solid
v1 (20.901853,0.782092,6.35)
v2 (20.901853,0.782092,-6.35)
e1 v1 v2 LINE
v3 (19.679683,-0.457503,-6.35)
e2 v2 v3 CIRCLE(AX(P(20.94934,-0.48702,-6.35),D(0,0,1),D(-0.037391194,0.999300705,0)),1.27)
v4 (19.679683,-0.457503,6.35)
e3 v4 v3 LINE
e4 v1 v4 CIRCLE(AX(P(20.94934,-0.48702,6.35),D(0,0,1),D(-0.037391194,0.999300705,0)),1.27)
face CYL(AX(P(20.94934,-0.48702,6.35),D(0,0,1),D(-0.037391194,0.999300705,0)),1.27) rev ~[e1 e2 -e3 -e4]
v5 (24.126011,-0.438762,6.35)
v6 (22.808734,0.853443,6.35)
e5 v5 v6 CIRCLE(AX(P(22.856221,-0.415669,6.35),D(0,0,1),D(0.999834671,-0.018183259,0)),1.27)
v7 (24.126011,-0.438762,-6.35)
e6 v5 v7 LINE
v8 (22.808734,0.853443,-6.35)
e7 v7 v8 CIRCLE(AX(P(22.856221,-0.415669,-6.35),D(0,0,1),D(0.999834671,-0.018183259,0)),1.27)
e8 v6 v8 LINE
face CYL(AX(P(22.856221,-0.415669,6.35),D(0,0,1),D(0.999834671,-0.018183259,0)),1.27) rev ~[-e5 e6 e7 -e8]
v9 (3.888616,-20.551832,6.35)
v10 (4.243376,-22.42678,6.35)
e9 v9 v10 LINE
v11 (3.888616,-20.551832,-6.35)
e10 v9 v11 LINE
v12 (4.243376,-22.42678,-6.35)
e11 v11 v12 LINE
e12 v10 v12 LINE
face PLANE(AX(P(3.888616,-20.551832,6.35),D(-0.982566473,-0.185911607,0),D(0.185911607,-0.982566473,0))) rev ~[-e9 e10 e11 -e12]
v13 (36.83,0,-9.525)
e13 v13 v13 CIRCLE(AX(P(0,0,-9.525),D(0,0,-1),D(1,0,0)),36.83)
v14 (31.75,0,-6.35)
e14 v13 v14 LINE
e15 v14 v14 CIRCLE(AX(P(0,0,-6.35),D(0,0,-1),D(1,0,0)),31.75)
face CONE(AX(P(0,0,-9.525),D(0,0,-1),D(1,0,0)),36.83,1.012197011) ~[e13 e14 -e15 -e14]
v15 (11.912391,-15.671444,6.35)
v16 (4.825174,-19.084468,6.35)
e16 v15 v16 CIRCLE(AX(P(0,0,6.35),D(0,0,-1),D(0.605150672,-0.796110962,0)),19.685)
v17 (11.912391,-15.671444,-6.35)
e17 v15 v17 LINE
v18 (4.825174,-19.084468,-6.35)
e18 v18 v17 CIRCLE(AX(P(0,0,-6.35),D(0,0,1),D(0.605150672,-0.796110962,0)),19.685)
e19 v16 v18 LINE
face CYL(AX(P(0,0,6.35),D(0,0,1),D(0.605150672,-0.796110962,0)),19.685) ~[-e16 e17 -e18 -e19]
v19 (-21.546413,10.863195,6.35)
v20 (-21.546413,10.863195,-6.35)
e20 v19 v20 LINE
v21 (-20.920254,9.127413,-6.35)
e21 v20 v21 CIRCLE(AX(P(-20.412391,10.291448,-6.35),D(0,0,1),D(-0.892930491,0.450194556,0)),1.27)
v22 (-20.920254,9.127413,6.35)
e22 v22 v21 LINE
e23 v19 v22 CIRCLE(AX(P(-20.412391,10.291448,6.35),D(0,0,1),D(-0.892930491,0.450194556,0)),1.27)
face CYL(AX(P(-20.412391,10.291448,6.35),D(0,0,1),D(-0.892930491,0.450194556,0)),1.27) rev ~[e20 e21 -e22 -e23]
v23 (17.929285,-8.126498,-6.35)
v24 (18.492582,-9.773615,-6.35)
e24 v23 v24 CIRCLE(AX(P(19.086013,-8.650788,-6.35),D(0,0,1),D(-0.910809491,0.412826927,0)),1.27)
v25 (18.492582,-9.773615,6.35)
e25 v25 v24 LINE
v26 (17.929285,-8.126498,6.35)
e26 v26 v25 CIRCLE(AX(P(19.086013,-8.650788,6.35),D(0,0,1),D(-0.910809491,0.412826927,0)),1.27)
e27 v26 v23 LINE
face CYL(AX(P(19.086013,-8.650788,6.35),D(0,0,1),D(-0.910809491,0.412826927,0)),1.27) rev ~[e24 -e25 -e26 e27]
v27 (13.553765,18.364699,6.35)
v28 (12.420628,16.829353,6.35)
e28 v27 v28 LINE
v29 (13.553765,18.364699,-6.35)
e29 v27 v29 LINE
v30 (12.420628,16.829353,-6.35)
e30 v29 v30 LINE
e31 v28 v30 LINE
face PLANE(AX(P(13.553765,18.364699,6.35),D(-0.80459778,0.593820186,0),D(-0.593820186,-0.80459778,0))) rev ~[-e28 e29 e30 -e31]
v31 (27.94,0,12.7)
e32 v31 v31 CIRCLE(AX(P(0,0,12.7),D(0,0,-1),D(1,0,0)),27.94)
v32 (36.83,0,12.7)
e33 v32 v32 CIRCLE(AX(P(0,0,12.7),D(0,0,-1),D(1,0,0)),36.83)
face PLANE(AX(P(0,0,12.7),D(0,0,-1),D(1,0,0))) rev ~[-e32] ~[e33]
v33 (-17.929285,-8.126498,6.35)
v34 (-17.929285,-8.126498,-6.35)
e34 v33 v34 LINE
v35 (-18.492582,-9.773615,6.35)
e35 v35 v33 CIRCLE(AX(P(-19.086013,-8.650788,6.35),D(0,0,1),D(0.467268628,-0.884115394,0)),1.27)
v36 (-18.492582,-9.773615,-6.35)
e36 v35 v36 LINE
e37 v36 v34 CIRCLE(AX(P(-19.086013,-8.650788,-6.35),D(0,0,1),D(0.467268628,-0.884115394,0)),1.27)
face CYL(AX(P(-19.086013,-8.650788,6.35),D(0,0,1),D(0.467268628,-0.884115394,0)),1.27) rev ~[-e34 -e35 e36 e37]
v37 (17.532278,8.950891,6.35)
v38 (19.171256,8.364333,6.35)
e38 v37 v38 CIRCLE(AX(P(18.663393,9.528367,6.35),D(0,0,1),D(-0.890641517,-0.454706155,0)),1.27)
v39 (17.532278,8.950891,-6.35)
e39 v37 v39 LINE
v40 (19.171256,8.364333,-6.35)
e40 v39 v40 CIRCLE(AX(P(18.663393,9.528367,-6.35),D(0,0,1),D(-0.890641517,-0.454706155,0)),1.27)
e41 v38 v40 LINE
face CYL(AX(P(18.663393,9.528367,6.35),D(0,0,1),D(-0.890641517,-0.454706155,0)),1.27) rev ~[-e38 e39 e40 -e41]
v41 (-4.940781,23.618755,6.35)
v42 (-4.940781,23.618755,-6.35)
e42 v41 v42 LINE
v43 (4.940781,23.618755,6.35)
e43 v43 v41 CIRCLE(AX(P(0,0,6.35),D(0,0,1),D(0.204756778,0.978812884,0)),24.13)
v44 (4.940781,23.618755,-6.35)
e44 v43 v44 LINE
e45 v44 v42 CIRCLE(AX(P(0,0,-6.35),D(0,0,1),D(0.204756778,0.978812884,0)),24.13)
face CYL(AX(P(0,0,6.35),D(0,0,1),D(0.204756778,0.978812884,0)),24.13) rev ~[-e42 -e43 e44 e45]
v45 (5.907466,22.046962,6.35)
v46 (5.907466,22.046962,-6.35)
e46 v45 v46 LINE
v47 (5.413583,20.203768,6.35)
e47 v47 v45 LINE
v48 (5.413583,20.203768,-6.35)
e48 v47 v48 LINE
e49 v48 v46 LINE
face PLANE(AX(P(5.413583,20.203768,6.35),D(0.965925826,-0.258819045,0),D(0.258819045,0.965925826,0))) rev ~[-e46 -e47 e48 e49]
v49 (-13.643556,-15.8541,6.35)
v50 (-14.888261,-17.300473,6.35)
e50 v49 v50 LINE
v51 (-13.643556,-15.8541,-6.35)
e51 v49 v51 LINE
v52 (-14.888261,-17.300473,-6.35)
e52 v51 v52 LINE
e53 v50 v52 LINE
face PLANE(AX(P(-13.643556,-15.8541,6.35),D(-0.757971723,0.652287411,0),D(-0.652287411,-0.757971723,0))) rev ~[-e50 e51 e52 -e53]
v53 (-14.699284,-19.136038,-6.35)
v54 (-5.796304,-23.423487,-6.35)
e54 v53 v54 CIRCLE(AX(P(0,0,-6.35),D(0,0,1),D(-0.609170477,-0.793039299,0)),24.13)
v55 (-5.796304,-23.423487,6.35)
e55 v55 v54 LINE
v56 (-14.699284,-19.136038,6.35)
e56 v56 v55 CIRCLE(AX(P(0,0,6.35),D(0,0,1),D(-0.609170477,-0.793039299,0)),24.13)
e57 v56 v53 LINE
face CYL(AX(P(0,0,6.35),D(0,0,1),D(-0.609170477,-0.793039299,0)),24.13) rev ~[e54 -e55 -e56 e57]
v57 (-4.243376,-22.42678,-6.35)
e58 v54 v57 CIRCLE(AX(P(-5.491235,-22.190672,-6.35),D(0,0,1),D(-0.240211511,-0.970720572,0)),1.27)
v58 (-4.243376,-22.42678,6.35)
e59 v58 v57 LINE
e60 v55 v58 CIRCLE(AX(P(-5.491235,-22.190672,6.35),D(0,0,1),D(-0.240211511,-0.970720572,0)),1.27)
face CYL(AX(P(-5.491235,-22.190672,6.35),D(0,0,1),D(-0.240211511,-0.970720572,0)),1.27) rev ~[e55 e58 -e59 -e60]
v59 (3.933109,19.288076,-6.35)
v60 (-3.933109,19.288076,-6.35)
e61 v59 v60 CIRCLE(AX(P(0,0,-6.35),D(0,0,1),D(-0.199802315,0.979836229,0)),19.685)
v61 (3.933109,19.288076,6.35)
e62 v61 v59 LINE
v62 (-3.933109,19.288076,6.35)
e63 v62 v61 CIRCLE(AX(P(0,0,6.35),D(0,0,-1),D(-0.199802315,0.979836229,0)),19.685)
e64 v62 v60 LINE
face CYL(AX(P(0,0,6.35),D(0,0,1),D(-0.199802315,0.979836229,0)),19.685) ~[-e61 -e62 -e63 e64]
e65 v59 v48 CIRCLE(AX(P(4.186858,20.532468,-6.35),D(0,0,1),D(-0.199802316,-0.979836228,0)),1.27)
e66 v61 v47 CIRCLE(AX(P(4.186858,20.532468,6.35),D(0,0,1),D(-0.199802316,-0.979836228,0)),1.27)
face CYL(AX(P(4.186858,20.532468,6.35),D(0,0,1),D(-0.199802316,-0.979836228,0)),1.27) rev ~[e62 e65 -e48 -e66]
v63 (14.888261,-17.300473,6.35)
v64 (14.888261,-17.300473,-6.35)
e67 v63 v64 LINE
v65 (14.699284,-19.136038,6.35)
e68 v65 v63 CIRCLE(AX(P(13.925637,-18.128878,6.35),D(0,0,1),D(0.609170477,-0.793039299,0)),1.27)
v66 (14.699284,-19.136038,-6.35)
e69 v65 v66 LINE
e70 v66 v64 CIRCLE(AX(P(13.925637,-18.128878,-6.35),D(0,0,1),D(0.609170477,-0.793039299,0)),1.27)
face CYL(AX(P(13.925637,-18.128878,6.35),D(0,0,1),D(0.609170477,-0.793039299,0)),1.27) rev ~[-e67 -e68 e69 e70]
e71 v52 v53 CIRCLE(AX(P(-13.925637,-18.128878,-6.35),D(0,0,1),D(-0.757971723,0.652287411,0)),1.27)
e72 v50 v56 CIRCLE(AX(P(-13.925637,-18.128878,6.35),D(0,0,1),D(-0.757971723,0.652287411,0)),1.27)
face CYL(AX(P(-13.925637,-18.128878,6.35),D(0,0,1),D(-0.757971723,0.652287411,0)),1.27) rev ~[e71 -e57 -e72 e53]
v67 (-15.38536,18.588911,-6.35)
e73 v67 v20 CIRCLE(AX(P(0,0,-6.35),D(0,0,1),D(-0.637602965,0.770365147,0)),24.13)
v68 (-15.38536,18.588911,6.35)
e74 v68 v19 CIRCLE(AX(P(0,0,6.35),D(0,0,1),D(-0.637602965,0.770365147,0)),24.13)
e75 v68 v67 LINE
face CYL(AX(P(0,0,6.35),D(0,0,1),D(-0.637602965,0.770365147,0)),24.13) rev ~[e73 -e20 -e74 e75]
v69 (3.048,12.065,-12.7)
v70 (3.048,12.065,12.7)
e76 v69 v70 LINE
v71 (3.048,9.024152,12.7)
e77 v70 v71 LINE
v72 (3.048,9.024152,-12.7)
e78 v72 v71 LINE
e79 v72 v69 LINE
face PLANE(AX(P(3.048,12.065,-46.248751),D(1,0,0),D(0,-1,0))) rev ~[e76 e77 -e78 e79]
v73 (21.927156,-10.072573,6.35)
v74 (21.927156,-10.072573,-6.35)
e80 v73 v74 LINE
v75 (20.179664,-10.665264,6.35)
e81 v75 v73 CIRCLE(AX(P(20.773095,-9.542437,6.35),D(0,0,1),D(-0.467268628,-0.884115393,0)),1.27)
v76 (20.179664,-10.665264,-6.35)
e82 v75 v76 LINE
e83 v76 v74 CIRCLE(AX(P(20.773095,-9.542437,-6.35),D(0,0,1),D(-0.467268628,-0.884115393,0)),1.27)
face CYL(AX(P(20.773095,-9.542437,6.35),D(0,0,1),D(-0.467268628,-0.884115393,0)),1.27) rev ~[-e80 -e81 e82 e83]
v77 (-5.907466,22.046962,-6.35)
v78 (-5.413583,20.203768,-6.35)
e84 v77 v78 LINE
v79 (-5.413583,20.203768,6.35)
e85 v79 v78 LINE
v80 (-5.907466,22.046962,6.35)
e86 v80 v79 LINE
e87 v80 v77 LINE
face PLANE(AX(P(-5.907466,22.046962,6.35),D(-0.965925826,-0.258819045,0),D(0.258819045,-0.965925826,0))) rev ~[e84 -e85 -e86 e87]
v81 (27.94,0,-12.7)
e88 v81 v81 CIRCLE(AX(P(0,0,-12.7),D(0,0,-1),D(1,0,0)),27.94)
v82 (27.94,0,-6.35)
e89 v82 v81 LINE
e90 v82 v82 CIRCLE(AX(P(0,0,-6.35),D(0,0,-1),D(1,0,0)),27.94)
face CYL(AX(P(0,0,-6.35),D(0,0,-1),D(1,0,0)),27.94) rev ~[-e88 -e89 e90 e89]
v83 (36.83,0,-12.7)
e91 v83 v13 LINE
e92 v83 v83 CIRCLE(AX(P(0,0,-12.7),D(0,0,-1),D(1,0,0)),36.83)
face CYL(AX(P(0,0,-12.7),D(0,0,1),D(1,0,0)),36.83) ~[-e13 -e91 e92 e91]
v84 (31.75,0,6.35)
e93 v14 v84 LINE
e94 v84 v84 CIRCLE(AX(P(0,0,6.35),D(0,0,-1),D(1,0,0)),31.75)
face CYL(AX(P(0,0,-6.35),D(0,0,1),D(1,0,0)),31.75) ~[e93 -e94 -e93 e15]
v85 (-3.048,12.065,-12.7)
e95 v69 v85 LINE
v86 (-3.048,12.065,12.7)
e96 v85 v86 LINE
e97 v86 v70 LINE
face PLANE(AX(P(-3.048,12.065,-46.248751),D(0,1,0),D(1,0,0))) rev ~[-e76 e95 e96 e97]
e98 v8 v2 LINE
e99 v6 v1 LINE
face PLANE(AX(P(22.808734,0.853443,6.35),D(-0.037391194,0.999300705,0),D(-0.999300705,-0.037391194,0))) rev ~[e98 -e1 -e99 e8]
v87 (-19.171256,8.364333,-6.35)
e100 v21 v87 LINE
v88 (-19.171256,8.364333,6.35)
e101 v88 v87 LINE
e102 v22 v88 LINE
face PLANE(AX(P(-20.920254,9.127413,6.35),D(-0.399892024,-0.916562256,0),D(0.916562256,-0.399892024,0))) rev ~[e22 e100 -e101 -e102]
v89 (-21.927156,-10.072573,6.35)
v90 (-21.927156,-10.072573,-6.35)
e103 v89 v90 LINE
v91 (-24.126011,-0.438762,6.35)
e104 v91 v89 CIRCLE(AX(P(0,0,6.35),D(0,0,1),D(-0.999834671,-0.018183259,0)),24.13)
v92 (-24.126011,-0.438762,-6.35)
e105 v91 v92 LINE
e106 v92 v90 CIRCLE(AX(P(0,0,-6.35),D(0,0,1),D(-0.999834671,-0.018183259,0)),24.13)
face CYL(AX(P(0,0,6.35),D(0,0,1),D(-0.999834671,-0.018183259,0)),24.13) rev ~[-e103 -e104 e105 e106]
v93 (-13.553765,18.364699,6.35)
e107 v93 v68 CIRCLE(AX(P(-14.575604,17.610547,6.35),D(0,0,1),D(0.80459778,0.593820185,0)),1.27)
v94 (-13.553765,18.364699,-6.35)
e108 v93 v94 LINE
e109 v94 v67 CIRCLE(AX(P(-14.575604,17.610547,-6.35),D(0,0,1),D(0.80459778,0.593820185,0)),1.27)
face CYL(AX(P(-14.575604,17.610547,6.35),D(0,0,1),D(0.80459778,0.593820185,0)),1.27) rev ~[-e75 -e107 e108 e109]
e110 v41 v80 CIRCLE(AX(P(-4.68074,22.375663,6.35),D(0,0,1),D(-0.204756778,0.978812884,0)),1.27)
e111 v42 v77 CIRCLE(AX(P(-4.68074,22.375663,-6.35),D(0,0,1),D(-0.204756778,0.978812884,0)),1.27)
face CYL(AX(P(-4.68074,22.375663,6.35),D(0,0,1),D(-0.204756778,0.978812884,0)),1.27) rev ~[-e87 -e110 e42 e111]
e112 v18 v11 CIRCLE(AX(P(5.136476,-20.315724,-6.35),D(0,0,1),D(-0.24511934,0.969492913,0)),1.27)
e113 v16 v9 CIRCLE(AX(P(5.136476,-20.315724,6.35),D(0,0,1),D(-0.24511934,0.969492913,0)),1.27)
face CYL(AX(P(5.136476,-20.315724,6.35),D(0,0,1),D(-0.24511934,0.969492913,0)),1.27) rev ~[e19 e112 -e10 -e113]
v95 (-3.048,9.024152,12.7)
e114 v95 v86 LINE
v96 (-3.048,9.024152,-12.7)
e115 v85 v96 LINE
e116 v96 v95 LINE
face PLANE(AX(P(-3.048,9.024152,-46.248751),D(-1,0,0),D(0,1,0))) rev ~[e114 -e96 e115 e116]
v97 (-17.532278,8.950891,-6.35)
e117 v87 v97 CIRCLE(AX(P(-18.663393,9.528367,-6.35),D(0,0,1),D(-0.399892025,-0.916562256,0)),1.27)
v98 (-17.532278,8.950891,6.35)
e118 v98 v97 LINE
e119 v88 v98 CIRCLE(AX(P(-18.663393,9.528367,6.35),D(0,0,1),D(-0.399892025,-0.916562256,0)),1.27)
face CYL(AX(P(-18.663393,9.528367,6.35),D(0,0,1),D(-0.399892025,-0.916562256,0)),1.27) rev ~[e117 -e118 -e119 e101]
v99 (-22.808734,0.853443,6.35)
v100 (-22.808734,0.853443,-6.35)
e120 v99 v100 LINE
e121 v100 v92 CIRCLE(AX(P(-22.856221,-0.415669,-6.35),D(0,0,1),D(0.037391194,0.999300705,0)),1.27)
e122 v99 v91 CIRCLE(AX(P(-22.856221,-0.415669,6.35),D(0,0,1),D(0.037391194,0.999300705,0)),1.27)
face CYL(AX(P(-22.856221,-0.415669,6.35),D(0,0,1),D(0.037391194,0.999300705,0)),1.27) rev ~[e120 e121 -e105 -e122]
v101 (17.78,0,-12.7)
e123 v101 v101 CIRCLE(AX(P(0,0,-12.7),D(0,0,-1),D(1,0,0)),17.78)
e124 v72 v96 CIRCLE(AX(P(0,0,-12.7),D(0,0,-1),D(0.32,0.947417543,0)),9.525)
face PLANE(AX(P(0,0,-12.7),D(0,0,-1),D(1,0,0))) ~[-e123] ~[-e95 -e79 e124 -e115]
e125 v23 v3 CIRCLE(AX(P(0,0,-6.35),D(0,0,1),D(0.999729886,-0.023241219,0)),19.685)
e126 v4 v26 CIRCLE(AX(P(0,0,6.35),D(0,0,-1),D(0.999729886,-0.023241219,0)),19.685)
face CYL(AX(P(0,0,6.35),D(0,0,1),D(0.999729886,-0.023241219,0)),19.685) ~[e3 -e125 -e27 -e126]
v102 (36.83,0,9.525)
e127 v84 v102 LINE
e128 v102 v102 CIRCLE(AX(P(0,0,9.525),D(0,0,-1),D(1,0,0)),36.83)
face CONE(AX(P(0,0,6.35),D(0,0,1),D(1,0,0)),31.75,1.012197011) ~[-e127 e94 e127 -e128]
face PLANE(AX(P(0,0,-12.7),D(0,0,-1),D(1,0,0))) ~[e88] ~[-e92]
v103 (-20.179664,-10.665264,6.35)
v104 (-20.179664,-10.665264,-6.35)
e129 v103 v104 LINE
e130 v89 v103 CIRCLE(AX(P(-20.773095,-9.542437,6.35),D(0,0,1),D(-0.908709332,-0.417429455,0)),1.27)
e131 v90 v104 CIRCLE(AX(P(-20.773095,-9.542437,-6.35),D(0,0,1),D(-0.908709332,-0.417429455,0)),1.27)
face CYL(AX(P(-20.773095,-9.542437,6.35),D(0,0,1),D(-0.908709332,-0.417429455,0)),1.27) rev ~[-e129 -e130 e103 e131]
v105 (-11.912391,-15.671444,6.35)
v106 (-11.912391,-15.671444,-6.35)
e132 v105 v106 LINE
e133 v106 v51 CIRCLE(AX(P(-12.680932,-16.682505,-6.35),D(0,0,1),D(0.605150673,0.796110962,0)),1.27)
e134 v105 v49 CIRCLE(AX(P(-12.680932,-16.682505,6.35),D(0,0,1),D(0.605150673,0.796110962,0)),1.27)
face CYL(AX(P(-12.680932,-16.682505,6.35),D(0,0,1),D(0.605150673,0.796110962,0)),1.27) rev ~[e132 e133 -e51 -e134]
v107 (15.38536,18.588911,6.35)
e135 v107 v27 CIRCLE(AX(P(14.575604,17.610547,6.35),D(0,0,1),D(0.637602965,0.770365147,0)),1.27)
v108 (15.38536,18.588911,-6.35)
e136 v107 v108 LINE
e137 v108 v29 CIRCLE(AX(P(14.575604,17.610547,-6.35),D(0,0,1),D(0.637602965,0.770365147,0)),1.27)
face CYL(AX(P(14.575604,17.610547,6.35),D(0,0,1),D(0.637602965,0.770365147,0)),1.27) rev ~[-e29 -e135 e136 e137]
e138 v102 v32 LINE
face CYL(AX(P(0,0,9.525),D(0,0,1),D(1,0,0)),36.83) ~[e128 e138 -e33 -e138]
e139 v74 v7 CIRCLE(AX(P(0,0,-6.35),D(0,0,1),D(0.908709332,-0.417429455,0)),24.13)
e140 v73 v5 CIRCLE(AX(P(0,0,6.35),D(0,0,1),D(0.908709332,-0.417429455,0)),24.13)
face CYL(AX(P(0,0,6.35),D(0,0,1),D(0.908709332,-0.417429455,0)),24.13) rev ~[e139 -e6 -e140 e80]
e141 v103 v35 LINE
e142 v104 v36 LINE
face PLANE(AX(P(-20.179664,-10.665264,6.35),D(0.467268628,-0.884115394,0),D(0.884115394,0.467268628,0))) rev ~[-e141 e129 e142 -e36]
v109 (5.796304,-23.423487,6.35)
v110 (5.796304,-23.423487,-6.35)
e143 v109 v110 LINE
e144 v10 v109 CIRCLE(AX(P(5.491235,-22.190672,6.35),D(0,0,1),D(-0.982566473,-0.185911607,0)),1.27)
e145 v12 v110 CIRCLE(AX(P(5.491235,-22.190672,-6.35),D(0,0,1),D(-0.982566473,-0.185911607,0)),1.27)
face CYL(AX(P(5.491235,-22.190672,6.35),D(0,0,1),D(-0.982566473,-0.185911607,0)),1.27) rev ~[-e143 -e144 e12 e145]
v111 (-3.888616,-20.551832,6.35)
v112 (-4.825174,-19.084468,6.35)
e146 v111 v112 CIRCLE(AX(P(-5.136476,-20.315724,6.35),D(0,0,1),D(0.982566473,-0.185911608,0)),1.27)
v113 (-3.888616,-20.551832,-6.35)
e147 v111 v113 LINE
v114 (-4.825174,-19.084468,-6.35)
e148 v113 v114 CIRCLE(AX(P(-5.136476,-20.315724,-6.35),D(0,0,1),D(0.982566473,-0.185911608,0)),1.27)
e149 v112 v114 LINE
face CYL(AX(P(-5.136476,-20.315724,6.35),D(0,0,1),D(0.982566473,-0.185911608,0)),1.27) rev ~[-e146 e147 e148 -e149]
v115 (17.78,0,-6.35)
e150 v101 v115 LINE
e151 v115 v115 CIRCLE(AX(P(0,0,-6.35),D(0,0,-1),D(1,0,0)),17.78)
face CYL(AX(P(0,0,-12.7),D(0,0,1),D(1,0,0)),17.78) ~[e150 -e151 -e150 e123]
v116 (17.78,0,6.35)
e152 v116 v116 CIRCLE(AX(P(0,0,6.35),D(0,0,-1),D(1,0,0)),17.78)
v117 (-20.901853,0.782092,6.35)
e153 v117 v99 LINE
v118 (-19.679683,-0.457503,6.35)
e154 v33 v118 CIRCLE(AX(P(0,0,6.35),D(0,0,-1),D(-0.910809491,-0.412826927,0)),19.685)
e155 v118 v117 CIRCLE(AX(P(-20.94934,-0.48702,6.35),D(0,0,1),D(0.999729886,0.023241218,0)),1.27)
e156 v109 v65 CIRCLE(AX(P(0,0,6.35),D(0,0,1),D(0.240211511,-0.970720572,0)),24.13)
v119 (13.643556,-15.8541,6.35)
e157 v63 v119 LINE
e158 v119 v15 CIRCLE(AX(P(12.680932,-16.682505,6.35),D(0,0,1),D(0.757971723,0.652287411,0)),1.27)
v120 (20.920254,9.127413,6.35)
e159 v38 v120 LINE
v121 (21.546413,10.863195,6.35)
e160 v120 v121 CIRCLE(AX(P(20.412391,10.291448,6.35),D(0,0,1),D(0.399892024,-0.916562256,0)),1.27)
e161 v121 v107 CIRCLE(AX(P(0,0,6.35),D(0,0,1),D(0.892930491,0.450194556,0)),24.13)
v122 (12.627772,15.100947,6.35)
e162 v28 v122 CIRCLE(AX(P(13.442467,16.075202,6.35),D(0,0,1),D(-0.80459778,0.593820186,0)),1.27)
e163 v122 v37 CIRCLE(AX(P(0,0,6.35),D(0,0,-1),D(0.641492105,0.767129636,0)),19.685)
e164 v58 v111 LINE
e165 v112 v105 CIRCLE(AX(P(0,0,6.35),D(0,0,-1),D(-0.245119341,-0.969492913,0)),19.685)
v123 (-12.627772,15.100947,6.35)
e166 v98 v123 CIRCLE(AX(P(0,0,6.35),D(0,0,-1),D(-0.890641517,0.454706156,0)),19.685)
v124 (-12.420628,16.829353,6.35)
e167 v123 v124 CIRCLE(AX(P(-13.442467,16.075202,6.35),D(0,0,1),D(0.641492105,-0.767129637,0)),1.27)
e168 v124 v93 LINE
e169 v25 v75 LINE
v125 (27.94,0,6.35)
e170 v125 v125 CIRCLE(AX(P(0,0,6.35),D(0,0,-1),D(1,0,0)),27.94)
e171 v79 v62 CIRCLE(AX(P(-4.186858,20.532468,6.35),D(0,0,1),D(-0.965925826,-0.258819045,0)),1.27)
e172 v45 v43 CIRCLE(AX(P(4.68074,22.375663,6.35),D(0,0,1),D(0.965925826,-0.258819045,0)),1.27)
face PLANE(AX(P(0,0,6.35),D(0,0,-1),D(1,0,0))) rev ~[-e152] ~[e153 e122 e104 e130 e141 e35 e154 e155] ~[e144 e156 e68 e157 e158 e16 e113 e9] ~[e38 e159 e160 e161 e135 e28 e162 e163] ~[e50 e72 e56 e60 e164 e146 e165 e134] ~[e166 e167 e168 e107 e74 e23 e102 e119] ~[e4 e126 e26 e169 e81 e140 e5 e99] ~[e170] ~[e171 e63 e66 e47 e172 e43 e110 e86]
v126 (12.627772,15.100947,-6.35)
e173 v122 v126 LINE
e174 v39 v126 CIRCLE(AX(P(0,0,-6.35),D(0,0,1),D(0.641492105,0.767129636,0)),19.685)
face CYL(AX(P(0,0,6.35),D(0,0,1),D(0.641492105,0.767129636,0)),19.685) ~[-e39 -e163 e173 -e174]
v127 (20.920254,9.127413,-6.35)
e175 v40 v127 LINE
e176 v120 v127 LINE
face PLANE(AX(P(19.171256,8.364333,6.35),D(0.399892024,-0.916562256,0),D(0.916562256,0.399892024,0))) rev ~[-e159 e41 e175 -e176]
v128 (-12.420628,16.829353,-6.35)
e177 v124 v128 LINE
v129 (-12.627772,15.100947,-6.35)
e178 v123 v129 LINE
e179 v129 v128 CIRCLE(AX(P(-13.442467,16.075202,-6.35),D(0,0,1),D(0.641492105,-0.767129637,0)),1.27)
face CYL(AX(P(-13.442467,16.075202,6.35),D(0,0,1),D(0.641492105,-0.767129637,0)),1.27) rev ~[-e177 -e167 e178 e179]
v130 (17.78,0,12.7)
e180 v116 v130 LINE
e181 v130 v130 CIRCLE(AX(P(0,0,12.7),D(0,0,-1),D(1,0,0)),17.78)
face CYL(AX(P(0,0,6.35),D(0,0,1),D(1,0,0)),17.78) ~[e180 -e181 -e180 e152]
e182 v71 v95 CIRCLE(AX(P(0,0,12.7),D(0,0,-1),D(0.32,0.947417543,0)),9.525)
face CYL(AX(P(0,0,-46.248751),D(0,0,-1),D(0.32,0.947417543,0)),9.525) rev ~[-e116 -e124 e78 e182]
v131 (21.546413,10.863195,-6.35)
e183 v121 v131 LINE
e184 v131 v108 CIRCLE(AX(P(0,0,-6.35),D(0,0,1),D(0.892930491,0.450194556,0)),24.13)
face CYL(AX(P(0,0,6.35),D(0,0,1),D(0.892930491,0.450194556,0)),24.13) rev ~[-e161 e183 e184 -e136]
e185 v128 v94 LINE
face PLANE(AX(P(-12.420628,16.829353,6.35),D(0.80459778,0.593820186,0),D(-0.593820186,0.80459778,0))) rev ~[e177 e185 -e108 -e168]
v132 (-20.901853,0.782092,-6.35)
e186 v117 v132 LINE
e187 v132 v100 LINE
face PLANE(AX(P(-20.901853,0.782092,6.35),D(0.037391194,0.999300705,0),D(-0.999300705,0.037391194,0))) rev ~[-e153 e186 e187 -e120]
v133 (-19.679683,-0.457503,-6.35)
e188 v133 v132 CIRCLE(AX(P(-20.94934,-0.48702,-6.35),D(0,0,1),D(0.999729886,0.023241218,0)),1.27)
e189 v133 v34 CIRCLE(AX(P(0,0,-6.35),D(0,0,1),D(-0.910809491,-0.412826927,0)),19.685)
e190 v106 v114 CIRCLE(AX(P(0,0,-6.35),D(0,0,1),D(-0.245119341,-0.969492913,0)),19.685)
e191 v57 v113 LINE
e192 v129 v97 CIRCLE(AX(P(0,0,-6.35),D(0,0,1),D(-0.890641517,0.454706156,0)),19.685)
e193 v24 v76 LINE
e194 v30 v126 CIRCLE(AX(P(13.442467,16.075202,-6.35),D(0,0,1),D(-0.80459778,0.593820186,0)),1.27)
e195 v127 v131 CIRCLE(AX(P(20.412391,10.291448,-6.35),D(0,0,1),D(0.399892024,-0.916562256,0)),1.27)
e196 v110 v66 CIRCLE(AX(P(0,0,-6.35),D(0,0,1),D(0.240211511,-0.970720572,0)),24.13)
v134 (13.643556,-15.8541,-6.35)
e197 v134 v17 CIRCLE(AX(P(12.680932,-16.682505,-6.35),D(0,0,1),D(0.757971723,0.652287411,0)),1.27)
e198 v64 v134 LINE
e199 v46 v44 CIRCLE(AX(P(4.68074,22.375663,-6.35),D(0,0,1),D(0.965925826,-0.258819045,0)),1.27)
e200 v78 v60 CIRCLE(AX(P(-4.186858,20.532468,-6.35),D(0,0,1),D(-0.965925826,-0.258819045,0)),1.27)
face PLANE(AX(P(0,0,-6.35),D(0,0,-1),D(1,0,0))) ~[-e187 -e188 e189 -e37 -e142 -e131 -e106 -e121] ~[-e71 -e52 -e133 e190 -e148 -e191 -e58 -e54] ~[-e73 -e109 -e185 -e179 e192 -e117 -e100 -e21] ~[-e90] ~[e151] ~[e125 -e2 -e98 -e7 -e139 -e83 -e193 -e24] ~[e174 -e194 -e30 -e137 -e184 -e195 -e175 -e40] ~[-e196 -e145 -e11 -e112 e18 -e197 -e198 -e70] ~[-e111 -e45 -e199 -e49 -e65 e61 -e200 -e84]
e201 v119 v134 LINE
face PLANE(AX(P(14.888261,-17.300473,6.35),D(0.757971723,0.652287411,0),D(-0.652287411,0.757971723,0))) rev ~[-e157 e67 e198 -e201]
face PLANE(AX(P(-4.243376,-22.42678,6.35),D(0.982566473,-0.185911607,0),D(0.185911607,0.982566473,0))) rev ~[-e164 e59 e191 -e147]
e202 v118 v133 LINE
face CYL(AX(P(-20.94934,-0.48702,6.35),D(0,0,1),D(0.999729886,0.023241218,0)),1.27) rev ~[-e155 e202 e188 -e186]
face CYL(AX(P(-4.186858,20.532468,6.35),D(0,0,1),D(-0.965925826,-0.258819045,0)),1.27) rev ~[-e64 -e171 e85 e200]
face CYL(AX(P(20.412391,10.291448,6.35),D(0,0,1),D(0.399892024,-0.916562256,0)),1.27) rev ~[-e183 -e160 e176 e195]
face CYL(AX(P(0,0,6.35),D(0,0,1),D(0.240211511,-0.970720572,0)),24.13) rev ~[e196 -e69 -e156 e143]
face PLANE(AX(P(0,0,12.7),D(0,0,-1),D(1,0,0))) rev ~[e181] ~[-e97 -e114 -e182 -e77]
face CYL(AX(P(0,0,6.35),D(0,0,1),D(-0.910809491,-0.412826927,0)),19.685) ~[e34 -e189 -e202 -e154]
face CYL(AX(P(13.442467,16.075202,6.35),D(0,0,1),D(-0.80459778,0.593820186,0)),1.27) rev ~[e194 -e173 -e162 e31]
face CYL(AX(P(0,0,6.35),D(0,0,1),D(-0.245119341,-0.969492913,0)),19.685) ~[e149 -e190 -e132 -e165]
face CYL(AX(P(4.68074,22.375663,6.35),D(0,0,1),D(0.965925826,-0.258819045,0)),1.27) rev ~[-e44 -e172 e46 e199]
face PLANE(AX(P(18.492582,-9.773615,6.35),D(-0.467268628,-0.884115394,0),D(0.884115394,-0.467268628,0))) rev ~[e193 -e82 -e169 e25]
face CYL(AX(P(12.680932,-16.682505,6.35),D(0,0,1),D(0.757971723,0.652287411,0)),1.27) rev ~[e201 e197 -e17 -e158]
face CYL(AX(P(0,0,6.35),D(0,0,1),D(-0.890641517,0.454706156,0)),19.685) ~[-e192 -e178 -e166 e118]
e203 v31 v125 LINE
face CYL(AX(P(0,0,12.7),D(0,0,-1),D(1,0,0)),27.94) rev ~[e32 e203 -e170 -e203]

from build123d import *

# Parameters (mm, degrees)
CUT_EXTRUDE1_DEPTH      = 58.948751496
CUT_EXTRUDE1_DEPTH_BACK = 58.948751496
CUT_EXTRUDE2_DEPTH      = 56.459898125
CIRPATTERN1_COUNT       = 7


with BuildPart() as part:
    # Sketch2 → Revolve3 (revolve)
    with BuildSketch(Plane(origin=(0, 0, 0), x_dir=(0, 0, -1), z_dir=(1, 0, 0)), mode=Mode.PRIVATE) as revolve3_sk:
        Polygon((12.7, 0), (12.7, 17.78), (6.35, 17.78), (6.35, 27.94), (12.7, 27.94), (12.7, 36.83), (9.525, 36.83), (6.35, 31.75), (-6.35, 31.75), (-9.525, 36.83), (-12.7, 36.83), (-12.7, 27.94), (-6.35, 27.94), (-6.35, 17.78), (-12.7, 17.78), (-12.7, 0), align=None)
    revolve(revolve3_sk.sketch.rotate(Axis((0, 0, 0), (0, 0, -1)), 90), axis=Axis((0, 0, 0), (0, 0, -1)))

    # Sketch3 → Cut-Extrude1 (cut, two sides: drawn at the far end of the back side and taken through both)
    with BuildSketch(Plane.XY.offset(12.7).offset(-CUT_EXTRUDE1_DEPTH_BACK)):
        with BuildLine():
            Line((-3.048, 12.065), (3.048, 12.065))
            Line((3.048, 12.065), (3.048, 9.024152093))
            ThreePointArc((3.048, 9.024152093), (0, -9.525), (-3.048, 9.024152093))
            Line((-3.048, 9.024152093), (-3.048, 12.065))
        make_face()
    extrude(amount=CUT_EXTRUDE1_DEPTH + CUT_EXTRUDE1_DEPTH_BACK, mode=Mode.SUBTRACT)

    # Sketch4 → Cut-Extrude2 (cut, through all)
    with BuildSketch(Plane.XY.offset(6.35)):
        with BuildLine():
            Line((-5.907465754, 22.046962339), (-5.413583315, 20.203767983))
            ThreePointArc((-5.413583315, 20.203767983), (-4.854909812, 19.452372744), (-3.933108575, 19.28807616))
            ThreePointArc((-3.933108575, 19.28807616), (0, 19.685), (3.933108575, 19.28807616))
            ThreePointArc((3.933108575, 19.28807616), (4.854909812, 19.452372744), (5.413583315, 20.203767983))
            Line((5.413583315, 20.203767983), (5.907465754, 22.046962339))
            ThreePointArc((5.907465754, 22.046962339), (5.762521779, 23.040980559), (4.940781063, 23.618754889))
            ThreePointArc((4.940781063, 23.618754889), (0, 24.13), (-4.940781063, 23.618754889))
            ThreePointArc((-4.940781063, 23.618754889), (-5.762521779, 23.040980559), (-5.907465754, 22.046962339))
        make_face()
    cut_extrude2 = extrude(amount=-CUT_EXTRUDE2_DEPTH, mode=Mode.SUBTRACT)

    # CirPattern1: Cut-Extrude2 ×7 about axis
    cirpattern1_axis = Axis((0, 0, 0), (0, 0, 1))
    for i in range(1, CIRPATTERN1_COUNT):
        add(cut_extrude2.rotate(cirpattern1_axis, i * 360 / CIRPATTERN1_COUNT), mode=Mode.SUBTRACT)


solid = part.part
